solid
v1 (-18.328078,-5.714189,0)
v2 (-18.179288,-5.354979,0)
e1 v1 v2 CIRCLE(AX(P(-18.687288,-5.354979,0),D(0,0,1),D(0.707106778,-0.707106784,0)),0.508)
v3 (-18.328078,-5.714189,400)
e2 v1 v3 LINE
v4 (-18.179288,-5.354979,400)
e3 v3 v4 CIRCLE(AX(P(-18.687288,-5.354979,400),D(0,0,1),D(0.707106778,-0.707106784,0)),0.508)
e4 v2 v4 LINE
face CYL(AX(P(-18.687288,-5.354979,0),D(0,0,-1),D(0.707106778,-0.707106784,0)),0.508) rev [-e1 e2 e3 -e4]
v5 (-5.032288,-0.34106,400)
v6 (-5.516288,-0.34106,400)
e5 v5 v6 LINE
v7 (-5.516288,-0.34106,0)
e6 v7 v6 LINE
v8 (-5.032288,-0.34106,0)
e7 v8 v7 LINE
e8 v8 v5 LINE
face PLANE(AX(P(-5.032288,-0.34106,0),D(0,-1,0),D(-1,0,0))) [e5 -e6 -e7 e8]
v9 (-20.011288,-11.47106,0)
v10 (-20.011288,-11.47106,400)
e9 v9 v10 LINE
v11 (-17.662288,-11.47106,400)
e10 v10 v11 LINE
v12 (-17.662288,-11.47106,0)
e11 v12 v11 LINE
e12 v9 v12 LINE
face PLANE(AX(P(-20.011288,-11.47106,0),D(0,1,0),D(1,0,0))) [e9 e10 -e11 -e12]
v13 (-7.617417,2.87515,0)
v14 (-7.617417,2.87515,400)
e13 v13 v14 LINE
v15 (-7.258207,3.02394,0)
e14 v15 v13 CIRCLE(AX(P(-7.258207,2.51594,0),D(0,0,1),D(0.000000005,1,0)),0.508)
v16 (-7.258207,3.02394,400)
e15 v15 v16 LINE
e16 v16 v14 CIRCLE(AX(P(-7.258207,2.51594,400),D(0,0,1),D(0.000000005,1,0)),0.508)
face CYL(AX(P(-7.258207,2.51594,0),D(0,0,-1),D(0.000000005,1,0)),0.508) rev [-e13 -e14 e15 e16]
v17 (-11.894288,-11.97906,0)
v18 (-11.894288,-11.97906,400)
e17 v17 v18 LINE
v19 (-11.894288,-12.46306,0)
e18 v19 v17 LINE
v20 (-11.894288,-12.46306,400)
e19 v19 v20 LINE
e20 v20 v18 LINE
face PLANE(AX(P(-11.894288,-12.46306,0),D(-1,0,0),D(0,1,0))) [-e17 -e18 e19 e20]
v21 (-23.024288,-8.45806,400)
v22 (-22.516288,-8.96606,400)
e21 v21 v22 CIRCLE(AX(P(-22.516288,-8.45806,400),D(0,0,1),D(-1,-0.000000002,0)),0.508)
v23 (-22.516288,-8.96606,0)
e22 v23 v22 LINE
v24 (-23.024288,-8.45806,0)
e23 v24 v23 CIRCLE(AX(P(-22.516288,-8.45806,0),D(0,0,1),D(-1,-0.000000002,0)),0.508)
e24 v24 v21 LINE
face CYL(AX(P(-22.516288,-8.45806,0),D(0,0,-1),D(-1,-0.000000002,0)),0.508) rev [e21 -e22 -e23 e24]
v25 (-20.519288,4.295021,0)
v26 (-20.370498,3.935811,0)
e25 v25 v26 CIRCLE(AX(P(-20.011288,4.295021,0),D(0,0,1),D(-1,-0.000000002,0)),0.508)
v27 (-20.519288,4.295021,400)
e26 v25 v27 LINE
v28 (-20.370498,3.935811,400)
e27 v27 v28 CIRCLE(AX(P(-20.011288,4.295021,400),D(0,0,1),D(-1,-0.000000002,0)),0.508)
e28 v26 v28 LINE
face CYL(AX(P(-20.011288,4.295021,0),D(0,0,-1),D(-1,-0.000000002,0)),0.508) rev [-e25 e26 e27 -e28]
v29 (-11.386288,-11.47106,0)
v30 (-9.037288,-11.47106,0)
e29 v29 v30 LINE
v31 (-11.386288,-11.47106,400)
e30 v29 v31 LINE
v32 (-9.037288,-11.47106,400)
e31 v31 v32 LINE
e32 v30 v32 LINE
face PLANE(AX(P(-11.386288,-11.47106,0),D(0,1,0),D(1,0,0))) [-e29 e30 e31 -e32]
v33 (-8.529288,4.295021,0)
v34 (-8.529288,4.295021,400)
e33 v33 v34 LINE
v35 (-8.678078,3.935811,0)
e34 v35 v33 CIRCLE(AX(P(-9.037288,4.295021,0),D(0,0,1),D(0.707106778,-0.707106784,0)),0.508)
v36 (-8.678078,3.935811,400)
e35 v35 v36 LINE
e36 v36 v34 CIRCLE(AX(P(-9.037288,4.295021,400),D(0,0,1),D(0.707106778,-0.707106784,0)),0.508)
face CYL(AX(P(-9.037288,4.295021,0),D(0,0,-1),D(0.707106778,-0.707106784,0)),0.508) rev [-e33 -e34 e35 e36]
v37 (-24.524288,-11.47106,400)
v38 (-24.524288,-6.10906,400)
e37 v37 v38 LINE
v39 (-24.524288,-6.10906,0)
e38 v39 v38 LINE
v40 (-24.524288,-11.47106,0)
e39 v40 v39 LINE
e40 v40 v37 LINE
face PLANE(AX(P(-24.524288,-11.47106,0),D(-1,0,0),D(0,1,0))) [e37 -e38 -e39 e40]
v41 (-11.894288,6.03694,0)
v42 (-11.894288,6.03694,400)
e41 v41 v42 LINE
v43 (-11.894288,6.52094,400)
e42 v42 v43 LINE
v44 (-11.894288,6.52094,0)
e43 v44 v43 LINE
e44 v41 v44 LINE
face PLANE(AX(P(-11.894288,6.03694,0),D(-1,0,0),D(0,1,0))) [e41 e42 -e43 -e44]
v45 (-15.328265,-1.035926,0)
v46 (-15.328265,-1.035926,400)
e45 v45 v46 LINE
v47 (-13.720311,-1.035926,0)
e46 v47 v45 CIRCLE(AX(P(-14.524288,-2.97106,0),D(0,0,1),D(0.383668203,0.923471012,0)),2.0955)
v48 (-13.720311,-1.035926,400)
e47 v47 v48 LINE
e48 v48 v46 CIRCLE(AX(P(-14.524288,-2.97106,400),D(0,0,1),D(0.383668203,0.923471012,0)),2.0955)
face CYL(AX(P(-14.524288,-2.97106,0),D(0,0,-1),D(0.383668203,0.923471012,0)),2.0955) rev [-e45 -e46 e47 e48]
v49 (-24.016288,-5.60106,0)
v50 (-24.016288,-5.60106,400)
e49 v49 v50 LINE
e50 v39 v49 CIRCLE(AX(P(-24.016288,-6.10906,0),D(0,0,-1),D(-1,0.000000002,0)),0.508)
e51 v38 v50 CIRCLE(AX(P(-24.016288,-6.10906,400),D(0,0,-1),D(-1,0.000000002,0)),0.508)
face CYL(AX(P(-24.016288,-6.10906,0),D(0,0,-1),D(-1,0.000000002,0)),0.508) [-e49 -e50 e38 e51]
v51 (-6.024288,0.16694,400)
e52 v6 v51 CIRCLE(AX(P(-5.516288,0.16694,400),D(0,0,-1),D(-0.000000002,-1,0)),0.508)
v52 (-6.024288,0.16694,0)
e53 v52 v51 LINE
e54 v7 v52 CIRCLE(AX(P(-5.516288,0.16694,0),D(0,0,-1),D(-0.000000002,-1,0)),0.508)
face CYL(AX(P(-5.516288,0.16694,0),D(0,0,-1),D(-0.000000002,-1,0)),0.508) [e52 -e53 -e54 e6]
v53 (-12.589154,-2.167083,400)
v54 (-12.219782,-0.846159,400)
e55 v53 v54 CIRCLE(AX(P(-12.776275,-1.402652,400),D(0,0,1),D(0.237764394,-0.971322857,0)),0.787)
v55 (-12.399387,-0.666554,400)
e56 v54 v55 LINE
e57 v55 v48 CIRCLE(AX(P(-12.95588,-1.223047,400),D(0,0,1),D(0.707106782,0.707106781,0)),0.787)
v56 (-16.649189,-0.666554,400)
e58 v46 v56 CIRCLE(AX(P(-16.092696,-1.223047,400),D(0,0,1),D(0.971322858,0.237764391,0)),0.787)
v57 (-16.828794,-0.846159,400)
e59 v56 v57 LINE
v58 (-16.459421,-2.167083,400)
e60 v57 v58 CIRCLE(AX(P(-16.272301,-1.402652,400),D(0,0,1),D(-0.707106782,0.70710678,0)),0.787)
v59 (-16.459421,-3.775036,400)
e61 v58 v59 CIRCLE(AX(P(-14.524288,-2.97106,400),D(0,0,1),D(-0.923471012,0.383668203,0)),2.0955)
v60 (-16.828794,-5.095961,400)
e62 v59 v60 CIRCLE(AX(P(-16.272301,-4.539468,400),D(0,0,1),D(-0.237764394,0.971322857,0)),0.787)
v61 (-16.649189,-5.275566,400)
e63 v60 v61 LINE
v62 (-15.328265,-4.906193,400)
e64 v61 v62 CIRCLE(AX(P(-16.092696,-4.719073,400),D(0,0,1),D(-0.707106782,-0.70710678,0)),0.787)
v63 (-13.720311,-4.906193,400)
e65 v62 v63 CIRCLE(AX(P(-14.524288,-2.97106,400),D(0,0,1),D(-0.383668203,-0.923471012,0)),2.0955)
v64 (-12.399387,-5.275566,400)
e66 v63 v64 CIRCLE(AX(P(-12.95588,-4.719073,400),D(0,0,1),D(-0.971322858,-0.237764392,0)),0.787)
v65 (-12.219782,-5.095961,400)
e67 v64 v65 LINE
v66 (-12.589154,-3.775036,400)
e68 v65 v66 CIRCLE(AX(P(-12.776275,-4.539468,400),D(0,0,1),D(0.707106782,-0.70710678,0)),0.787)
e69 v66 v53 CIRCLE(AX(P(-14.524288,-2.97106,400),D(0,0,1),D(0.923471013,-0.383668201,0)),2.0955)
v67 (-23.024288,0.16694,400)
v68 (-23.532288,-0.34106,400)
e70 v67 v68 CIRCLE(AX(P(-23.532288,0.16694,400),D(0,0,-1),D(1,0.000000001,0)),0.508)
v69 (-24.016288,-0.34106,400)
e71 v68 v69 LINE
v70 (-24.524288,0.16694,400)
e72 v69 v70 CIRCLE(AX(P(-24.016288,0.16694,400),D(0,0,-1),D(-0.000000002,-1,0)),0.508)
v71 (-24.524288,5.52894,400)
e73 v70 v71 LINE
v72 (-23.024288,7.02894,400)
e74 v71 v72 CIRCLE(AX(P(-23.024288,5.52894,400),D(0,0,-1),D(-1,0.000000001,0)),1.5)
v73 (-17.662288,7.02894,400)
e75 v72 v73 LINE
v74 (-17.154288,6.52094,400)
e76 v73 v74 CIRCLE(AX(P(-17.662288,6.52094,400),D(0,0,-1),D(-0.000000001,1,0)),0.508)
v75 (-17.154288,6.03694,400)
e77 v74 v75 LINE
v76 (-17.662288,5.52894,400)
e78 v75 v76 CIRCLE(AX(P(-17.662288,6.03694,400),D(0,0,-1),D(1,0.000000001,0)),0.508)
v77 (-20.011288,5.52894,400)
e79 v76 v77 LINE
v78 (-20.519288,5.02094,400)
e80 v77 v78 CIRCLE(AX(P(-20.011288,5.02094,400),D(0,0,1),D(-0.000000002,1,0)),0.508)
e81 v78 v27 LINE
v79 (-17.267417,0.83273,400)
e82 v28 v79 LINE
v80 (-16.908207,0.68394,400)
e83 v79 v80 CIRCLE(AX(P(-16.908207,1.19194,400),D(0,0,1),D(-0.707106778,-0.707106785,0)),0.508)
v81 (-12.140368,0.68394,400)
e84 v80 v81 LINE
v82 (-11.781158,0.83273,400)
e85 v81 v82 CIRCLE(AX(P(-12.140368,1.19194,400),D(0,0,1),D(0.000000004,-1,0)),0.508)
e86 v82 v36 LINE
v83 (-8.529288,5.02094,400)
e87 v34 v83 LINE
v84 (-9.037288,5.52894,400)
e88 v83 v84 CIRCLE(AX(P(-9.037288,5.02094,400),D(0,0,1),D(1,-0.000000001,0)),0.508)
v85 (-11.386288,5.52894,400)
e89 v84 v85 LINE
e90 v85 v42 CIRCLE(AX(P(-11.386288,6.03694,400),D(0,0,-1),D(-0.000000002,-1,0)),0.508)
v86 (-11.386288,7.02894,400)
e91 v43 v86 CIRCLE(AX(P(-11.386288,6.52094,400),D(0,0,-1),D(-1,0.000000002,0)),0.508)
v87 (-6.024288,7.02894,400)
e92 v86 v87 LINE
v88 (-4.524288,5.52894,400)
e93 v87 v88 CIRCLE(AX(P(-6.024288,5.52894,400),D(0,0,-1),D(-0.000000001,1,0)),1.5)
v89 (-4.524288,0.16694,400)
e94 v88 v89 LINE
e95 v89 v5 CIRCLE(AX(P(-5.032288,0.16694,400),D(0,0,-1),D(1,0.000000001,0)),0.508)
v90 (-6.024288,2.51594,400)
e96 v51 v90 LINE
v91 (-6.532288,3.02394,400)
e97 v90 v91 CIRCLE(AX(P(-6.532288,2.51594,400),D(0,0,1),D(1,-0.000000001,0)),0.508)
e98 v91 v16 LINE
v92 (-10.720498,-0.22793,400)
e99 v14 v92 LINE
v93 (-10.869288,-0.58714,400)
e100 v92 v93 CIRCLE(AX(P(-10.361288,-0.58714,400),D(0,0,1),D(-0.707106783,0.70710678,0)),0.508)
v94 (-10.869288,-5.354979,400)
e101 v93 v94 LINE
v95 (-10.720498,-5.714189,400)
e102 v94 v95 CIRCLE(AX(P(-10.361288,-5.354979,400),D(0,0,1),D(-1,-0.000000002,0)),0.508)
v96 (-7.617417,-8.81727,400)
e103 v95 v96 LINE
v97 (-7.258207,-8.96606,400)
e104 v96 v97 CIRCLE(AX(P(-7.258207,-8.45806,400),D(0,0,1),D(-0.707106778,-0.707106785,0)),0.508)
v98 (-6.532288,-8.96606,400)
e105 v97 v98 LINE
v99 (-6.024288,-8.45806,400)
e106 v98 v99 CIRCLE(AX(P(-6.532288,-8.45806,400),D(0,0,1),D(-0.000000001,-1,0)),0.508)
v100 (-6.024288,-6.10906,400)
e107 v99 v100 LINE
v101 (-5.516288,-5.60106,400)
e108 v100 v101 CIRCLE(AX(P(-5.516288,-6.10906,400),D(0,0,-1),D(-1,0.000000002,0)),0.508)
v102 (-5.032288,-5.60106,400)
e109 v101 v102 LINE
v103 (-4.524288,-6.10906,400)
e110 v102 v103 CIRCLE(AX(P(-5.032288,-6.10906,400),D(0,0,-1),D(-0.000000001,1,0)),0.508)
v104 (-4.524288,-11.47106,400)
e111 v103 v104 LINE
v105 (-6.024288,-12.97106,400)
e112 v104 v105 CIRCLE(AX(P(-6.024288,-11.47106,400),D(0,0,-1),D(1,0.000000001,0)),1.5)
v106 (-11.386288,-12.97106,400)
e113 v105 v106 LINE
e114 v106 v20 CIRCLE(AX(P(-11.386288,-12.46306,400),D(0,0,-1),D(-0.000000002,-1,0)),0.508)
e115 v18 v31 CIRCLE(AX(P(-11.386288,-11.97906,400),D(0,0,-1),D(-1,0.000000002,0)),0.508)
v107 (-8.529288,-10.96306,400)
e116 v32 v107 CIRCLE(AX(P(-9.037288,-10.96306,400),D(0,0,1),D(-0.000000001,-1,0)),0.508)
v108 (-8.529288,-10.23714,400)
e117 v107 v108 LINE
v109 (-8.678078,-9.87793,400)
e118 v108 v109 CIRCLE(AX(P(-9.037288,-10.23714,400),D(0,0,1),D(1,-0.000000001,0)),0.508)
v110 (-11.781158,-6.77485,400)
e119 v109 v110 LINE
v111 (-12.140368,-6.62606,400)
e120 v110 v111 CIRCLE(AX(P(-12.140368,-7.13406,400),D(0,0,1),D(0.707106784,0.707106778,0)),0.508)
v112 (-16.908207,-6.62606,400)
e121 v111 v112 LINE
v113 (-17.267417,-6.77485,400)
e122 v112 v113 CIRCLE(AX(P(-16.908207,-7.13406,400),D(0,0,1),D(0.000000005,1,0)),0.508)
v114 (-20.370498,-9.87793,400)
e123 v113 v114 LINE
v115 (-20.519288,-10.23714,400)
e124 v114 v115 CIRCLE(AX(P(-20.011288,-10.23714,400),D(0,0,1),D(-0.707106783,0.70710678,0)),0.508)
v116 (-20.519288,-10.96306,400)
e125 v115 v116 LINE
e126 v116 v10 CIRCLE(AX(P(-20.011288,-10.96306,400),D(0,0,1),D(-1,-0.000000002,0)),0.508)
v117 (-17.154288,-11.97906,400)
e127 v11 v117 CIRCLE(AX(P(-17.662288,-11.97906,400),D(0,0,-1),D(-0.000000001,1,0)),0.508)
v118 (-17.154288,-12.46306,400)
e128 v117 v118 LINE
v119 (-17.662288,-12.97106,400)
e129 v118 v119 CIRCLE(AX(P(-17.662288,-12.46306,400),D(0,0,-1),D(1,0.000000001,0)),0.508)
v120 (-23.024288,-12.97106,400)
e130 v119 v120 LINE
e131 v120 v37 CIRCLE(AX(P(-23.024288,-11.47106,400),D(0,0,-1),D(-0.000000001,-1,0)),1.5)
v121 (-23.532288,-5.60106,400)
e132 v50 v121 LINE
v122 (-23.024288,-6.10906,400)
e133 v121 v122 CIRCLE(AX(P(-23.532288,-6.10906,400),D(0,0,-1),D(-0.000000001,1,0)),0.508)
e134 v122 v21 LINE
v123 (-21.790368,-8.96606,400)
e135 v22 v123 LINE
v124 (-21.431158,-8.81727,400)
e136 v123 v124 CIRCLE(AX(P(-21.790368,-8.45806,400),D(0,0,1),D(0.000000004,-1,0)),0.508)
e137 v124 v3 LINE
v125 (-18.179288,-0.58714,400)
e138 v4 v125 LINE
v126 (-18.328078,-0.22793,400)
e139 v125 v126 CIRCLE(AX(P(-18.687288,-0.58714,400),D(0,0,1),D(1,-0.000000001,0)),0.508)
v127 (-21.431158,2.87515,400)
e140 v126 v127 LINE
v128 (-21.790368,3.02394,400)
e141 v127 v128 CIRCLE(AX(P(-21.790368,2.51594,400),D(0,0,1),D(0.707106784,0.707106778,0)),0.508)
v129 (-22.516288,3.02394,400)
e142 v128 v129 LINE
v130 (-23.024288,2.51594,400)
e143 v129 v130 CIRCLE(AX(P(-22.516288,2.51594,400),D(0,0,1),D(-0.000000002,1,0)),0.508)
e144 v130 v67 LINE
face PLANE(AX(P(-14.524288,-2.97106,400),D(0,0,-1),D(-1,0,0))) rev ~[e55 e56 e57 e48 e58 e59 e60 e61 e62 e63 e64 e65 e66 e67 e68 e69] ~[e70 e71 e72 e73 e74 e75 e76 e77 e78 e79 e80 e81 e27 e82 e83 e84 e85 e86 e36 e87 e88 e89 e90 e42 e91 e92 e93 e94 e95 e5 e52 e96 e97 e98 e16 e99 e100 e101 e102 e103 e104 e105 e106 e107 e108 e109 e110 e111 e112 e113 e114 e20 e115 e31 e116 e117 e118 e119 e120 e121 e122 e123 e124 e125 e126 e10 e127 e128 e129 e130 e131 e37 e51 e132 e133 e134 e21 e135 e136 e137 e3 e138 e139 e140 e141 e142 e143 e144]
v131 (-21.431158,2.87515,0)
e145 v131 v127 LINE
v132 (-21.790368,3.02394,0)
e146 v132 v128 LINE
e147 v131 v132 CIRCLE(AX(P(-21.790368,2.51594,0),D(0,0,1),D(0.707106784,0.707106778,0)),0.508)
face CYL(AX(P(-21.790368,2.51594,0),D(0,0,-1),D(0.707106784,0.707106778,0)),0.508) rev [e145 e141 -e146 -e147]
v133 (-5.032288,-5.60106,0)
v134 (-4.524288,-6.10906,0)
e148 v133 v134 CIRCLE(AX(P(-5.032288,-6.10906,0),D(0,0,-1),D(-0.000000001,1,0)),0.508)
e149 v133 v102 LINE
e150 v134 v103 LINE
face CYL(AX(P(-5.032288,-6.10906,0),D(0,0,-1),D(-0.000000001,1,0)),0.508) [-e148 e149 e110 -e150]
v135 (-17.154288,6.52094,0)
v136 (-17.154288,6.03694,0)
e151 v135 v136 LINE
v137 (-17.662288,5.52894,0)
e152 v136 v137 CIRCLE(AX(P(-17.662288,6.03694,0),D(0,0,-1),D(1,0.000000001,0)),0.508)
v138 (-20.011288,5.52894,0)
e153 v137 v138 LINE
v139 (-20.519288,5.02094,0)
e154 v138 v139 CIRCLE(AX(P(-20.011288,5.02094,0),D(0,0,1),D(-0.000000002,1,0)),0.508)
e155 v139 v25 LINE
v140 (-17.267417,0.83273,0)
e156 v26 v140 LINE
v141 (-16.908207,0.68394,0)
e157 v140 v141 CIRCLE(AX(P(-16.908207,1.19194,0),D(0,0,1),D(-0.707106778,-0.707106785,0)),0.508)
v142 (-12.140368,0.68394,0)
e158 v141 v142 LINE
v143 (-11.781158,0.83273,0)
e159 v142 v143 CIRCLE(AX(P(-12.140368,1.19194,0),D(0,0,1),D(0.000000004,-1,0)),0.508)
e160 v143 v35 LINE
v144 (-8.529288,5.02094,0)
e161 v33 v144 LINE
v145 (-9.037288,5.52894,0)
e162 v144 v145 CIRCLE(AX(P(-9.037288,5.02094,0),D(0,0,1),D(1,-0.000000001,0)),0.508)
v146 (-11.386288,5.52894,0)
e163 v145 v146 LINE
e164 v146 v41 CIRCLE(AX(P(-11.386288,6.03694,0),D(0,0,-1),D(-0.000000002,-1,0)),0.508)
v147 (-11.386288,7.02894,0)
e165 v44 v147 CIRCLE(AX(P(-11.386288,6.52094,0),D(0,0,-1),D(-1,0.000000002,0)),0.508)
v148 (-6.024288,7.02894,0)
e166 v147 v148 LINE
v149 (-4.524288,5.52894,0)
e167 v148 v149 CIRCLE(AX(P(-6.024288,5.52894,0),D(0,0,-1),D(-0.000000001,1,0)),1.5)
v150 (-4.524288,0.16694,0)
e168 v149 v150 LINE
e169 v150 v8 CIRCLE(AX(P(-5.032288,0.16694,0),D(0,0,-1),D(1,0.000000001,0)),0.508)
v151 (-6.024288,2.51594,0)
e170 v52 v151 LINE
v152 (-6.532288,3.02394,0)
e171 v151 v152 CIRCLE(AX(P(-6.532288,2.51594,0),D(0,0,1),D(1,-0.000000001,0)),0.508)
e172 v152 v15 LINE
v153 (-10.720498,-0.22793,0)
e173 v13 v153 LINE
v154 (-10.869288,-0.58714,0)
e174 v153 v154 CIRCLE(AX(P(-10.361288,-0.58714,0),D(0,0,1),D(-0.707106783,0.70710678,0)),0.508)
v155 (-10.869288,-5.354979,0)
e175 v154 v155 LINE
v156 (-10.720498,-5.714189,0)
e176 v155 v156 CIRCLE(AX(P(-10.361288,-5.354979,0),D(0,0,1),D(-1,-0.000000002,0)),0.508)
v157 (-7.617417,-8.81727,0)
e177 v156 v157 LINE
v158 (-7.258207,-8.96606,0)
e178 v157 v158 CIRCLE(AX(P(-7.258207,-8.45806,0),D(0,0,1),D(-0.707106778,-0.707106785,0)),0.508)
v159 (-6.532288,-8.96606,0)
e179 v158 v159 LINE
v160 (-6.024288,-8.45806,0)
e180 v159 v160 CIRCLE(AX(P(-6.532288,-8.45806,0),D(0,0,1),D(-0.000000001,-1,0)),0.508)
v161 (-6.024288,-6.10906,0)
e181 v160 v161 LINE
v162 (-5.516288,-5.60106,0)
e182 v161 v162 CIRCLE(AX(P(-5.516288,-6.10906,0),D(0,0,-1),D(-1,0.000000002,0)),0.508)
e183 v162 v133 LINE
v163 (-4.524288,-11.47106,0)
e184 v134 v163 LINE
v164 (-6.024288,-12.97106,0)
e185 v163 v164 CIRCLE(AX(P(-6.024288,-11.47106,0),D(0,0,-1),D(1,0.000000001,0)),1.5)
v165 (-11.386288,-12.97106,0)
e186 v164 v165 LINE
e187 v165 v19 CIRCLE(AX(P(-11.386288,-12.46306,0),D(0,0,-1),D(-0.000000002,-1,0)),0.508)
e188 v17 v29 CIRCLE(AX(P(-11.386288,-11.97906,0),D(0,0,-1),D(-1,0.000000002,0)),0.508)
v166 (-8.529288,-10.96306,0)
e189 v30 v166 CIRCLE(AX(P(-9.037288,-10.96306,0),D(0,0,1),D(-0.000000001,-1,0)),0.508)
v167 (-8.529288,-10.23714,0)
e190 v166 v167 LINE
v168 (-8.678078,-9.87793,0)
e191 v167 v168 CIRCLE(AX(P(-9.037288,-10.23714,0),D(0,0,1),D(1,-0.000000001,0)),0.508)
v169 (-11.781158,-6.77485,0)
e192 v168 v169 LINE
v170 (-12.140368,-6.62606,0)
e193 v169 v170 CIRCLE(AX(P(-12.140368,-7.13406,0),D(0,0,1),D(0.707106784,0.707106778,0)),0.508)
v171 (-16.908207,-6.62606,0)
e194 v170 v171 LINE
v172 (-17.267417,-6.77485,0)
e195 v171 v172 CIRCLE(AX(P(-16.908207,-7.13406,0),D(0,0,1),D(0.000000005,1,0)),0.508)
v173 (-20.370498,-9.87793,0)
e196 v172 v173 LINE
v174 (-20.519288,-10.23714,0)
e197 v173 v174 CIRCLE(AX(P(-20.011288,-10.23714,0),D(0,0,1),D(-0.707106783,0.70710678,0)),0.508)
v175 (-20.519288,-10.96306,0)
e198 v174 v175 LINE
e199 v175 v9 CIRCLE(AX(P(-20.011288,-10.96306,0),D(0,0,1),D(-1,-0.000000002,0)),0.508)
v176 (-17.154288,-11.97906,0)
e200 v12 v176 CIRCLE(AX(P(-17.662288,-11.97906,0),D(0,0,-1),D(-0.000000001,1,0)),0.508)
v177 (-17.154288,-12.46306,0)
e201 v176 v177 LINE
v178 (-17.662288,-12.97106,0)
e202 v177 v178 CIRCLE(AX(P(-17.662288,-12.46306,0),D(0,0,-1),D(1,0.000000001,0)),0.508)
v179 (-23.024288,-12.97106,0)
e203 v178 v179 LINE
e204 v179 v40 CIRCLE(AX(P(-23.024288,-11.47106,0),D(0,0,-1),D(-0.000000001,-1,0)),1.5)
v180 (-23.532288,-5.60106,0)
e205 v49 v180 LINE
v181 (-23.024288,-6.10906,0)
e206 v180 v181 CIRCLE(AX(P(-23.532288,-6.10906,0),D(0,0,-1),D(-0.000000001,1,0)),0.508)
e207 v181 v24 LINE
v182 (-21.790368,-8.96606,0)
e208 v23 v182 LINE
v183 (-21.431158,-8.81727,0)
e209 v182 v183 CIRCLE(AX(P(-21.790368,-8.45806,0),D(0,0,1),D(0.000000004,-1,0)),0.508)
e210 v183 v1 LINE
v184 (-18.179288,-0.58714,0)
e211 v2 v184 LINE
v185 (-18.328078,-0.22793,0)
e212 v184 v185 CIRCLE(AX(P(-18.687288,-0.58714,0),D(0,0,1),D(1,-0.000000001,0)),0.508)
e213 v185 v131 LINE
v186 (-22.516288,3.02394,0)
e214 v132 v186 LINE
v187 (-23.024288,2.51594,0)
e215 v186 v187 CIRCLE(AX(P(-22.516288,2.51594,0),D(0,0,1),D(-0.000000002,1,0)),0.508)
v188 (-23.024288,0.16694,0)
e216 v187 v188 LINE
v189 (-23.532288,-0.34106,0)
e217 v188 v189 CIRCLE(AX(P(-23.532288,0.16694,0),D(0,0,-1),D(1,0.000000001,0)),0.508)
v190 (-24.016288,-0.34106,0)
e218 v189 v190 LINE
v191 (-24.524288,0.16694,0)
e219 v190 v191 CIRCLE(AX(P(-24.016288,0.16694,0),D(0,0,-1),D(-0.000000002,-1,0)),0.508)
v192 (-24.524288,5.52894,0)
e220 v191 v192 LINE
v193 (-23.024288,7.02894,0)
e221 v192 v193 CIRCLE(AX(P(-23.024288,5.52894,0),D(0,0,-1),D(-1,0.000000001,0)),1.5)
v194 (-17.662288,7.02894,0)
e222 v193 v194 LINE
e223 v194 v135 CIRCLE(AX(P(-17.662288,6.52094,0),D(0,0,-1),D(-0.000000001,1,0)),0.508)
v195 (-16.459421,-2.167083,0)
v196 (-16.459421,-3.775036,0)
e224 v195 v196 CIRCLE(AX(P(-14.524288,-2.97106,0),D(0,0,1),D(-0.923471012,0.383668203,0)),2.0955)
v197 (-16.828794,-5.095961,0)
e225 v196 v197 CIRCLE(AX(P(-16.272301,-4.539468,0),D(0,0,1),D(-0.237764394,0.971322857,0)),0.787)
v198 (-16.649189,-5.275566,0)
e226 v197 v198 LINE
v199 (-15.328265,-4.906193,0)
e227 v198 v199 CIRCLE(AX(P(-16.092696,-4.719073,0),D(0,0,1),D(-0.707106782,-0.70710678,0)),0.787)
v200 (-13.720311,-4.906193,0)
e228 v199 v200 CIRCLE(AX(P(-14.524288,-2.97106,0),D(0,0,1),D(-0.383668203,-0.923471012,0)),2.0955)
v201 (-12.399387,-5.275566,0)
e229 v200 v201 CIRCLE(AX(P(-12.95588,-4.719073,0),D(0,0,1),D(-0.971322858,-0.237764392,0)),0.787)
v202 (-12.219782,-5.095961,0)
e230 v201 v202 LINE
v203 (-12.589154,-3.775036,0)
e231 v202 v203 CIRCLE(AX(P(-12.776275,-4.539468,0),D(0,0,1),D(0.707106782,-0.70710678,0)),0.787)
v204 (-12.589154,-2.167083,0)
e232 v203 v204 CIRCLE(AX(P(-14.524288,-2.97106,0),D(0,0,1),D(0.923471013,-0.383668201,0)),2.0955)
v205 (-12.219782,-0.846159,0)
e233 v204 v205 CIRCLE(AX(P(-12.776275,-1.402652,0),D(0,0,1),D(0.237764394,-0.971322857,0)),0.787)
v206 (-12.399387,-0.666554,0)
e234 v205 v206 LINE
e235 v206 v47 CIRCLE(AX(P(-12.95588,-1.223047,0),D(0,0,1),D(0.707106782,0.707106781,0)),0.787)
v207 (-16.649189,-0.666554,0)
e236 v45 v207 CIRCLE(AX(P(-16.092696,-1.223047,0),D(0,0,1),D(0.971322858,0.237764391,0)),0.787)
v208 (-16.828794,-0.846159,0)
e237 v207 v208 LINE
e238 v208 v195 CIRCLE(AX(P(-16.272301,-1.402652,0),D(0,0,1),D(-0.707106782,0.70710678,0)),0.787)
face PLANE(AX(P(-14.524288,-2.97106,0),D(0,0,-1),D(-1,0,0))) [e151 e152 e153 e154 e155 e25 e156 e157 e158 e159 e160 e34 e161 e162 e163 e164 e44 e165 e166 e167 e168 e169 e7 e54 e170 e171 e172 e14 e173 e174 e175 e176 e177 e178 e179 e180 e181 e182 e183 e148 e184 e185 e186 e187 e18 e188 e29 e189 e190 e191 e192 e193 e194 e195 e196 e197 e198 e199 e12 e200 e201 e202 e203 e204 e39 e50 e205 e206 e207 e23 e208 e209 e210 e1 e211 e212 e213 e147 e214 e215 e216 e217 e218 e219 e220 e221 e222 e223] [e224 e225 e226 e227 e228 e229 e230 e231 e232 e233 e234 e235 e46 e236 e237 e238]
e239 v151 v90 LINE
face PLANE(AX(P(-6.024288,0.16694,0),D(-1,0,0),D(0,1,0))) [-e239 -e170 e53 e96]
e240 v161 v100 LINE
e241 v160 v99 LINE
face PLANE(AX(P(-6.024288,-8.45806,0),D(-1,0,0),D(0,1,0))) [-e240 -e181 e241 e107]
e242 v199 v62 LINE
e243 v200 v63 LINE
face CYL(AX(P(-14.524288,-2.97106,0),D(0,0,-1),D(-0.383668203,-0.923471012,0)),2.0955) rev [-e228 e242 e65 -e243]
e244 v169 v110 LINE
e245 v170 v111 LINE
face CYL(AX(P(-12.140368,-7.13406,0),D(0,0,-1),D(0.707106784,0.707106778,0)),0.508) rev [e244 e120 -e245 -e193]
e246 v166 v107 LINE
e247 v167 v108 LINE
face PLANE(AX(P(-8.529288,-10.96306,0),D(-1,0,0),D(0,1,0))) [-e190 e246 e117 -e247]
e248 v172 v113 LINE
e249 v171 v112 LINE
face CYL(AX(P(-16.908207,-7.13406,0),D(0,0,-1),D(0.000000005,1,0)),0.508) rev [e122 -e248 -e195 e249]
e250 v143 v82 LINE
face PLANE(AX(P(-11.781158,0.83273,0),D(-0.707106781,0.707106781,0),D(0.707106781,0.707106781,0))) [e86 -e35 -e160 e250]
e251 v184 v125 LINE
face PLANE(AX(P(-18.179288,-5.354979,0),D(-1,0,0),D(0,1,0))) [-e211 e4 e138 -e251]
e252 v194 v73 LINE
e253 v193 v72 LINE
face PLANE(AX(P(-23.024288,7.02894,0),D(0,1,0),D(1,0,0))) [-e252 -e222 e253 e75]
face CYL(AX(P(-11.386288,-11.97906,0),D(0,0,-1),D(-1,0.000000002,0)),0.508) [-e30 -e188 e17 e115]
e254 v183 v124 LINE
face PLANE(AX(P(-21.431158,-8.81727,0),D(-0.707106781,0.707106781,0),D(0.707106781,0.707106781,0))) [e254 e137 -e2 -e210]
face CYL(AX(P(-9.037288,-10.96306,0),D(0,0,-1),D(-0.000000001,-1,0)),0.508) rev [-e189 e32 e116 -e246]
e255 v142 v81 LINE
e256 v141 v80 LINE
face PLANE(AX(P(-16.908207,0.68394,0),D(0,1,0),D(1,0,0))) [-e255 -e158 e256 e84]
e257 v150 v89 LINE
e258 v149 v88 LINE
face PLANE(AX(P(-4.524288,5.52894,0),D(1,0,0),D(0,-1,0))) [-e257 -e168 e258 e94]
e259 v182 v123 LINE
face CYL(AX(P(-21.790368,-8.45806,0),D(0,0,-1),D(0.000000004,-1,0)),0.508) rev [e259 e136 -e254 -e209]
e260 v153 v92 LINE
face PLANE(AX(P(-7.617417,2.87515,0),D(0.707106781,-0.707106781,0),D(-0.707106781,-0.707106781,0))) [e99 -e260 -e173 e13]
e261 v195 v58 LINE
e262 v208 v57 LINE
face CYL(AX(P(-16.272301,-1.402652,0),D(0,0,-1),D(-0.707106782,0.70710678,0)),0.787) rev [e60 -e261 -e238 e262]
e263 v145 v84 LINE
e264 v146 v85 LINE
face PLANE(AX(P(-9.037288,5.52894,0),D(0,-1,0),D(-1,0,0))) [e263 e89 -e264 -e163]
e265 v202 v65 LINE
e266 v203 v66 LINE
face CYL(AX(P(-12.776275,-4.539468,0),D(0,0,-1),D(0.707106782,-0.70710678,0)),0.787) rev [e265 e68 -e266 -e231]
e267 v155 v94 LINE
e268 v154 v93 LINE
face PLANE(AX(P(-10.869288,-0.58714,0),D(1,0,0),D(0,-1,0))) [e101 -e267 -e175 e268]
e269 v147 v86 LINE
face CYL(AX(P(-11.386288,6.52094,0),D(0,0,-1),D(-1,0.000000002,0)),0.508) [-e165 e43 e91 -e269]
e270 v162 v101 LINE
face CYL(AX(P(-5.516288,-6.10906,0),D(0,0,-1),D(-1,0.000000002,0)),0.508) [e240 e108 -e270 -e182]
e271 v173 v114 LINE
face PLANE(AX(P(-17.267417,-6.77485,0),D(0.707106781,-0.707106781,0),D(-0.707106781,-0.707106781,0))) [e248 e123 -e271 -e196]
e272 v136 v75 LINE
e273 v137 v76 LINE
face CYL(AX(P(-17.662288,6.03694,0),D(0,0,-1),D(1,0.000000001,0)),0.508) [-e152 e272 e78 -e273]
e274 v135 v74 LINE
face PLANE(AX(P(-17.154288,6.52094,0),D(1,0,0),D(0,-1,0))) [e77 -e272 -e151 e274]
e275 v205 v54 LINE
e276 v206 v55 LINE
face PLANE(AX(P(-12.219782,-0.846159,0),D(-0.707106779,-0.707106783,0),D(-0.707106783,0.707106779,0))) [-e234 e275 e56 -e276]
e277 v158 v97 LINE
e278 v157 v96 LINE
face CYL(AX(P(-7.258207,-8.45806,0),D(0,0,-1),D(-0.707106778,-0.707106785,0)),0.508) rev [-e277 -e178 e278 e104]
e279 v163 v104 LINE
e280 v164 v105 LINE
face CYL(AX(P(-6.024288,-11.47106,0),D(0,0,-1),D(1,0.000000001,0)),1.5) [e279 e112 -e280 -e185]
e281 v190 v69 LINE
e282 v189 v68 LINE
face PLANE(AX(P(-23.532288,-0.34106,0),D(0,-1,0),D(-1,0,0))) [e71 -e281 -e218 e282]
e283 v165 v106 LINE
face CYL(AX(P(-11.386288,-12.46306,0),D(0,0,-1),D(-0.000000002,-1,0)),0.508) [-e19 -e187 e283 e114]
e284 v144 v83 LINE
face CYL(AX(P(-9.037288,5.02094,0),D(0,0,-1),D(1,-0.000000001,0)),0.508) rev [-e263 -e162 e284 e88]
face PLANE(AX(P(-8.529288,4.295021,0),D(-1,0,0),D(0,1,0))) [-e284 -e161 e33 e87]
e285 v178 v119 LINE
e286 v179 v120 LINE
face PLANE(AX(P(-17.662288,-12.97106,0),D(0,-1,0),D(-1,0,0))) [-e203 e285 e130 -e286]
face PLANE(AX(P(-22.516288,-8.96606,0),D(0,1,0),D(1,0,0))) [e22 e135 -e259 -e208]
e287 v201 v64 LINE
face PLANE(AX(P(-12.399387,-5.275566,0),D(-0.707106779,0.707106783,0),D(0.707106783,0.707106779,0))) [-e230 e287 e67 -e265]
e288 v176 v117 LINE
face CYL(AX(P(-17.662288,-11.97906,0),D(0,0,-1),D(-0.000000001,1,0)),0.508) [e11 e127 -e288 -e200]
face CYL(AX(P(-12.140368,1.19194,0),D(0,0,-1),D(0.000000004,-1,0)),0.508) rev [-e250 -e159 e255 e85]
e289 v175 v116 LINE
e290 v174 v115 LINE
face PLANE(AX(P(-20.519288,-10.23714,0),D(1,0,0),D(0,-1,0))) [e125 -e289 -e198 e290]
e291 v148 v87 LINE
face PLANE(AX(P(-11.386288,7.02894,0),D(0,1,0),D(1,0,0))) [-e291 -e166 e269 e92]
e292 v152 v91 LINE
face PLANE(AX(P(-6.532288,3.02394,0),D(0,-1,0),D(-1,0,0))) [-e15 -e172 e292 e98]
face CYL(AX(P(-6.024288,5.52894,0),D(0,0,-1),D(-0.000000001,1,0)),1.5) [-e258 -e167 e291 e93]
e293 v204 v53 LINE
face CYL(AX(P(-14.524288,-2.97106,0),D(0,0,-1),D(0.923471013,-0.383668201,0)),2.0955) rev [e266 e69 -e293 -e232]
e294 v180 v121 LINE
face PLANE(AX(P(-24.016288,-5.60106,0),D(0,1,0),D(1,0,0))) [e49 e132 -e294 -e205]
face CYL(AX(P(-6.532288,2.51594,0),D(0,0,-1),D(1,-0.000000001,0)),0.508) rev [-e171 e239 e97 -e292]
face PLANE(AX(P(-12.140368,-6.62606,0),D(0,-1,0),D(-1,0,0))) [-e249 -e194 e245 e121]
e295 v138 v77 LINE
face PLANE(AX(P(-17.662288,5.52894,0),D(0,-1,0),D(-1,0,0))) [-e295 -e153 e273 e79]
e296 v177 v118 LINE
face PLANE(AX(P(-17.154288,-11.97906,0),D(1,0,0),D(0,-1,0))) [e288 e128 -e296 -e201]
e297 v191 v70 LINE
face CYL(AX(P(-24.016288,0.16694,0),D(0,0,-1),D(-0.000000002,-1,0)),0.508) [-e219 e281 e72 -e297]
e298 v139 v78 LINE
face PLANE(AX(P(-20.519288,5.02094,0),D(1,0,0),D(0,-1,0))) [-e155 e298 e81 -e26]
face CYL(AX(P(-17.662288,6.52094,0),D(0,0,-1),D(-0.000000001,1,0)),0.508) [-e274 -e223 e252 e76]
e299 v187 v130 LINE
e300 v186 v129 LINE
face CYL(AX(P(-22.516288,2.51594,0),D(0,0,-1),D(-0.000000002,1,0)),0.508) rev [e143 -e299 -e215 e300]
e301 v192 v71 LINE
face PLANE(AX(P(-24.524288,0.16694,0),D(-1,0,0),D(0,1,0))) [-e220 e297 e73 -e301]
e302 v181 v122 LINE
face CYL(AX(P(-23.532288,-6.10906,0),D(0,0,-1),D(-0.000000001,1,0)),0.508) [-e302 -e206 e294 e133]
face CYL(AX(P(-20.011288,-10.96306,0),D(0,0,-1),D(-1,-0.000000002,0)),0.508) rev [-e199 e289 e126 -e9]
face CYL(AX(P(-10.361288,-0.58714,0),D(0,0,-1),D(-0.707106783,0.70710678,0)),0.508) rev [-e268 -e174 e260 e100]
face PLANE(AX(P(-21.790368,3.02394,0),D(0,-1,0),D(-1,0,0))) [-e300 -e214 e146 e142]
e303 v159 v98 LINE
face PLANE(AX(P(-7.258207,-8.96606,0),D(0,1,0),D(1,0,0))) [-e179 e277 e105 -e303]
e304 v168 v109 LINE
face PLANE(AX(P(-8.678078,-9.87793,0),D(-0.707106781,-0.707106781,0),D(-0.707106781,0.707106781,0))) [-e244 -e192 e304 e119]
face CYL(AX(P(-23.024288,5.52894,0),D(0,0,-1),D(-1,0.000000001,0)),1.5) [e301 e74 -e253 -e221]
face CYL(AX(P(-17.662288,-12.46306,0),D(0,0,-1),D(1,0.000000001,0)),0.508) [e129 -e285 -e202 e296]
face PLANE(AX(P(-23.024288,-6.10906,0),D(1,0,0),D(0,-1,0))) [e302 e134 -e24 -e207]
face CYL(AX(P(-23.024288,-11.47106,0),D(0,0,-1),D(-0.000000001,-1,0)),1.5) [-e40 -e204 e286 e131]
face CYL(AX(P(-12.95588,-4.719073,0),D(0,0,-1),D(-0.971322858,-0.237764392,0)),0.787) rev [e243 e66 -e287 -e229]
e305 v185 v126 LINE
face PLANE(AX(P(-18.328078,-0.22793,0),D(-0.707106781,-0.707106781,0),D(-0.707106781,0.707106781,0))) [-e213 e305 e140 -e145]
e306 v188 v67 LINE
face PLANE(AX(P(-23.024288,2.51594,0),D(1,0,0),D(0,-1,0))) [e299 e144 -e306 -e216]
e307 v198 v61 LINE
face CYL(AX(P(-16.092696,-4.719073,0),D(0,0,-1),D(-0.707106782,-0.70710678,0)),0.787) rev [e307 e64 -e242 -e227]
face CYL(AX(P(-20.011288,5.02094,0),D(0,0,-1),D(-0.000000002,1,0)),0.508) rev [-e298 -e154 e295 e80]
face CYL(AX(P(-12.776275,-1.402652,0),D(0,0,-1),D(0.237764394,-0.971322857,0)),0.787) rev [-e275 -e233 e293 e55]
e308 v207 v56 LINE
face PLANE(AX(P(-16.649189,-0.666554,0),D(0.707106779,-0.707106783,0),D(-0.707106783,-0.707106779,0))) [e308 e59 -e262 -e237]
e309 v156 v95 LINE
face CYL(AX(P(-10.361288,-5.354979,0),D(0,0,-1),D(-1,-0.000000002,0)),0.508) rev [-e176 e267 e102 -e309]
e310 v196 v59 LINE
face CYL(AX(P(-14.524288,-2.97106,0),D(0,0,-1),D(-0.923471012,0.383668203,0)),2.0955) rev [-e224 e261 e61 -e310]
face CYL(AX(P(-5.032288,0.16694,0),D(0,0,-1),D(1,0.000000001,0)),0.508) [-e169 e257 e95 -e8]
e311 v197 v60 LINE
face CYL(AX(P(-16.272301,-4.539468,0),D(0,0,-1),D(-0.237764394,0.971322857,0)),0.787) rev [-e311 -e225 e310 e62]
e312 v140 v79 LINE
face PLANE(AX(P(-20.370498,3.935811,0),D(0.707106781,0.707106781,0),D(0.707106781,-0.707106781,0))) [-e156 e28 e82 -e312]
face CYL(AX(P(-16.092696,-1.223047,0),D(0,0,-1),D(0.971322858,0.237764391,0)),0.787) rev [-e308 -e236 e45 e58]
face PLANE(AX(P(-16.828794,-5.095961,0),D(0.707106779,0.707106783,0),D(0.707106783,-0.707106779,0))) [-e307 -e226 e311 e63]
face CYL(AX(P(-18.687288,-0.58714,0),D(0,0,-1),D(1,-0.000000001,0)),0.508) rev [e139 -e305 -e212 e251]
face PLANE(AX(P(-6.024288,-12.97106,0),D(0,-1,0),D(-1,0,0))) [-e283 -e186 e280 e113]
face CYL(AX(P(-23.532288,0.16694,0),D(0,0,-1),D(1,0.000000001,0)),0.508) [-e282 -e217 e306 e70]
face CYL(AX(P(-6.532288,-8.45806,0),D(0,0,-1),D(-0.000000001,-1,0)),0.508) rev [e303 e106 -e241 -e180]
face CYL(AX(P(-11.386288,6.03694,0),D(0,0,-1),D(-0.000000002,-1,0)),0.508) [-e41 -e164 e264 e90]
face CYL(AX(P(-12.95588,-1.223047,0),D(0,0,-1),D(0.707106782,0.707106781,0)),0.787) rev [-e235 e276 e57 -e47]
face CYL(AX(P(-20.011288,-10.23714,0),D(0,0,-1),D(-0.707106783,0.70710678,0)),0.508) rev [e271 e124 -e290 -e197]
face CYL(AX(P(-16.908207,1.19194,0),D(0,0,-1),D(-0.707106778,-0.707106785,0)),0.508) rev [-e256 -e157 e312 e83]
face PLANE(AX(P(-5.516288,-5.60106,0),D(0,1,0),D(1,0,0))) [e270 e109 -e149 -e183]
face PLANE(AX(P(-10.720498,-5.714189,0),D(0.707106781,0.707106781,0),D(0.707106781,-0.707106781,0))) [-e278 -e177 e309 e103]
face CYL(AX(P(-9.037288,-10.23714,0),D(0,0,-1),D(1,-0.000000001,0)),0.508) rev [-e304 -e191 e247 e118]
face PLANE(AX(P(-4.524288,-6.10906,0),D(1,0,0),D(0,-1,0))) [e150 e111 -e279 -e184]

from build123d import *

# Parameters (mm, degrees)
EXTRUDE1_DEPTH = 400


with BuildPart() as part:
    # Sketch1 → Extrude1 (new body)
    with BuildSketch(Plane.XY):
        with BuildLine():
            Line((-5.032287798, -0.341059771), (-5.516287798, -0.341059771))
            ThreePointArc((-5.516287798, -0.341059771), (-5.875498042, -0.192270016), (-6.024287798, 0.166940229))
            Line((-6.024287798, 0.166940229), (-6.024287798, 2.515940229))
            ThreePointArc((-6.024287798, 2.515940229), (-6.173077553, 2.875150474), (-6.532287798, 3.023940229))
            Line((-6.532287798, 3.023940229), (-7.258207136, 3.023940229))
            ThreePointArc((-7.258207136, 3.023940229), (-7.45261032, 2.985271032), (-7.617417381, 2.875150474))
            Line((-7.617417381, 2.875150474), (-10.720498042, -0.227930187))
            ThreePointArc((-10.720498042, -0.227930187), (-10.8306186, -0.392737249), (-10.869287798, -0.587140432))
            Line((-10.869287798, -0.587140432), (-10.869287798, -5.354979109))
            ThreePointArc((-10.869287798, -5.354979109), (-10.8306186, -5.549382293), (-10.720498042, -5.714189354))
            Line((-10.720498042, -5.714189354), (-7.617417381, -8.817270016))
            ThreePointArc((-7.617417381, -8.817270016), (-7.45261032, -8.927390573), (-7.258207136, -8.966059771))
            Line((-7.258207136, -8.966059771), (-6.532287798, -8.966059771))
            ThreePointArc((-6.532287798, -8.966059771), (-6.173077553, -8.817270016), (-6.024287798, -8.458059771))
            Line((-6.024287798, -8.458059771), (-6.024287798, -6.109059771))
            ThreePointArc((-6.024287798, -6.109059771), (-5.875498042, -5.749849526), (-5.516287798, -5.601059771))
            Line((-5.516287798, -5.601059771), (-5.032287798, -5.601059771))
            ThreePointArc((-5.032287798, -5.601059771), (-4.673077553, -5.749849526), (-4.524287798, -6.109059771))
            Line((-4.524287798, -6.109059771), (-4.524287798, -11.471059771))
            ThreePointArc((-4.524287798, -11.471059771), (-4.963627626, -12.531719943), (-6.024287798, -12.971059771))
            Line((-6.024287798, -12.971059771), (-11.386287798, -12.971059771))
            ThreePointArc((-11.386287798, -12.971059771), (-11.745498042, -12.822270016), (-11.894287798, -12.463059771))
            Line((-11.894287798, -12.463059771), (-11.894287798, -11.979059771))
            ThreePointArc((-11.894287798, -11.979059771), (-11.745498042, -11.619849526), (-11.386287798, -11.471059771))
            Line((-11.386287798, -11.471059771), (-9.037287798, -11.471059771))
            ThreePointArc((-9.037287798, -11.471059771), (-8.678077553, -11.322270016), (-8.529287798, -10.963059771))
            Line((-8.529287798, -10.963059771), (-8.529287798, -10.237140432))
            ThreePointArc((-8.529287798, -10.237140432), (-8.567956995, -10.042737249), (-8.678077553, -9.877930187))
            Line((-8.678077553, -9.877930187), (-11.781158214, -6.774849526))
            ThreePointArc((-11.781158214, -6.774849526), (-11.945965275, -6.664728968), (-12.140368459, -6.626059771))
            Line((-12.140368459, -6.626059771), (-16.908207136, -6.626059771))
            ThreePointArc((-16.908207136, -6.626059771), (-17.10261032, -6.664728968), (-17.267417381, -6.774849526))
            Line((-17.267417381, -6.774849526), (-20.370498042, -9.877930187))
            ThreePointArc((-20.370498042, -9.877930187), (-20.4806186, -10.042737249), (-20.519287798, -10.237140432))
            Line((-20.519287798, -10.237140432), (-20.519287798, -10.963059771))
            ThreePointArc((-20.519287798, -10.963059771), (-20.370498042, -11.322270016), (-20.011287798, -11.471059771))
            Line((-20.011287798, -11.471059771), (-17.662287798, -11.471059771))
            ThreePointArc((-17.662287798, -11.471059771), (-17.303077553, -11.619849526), (-17.154287798, -11.979059771))
            Line((-17.154287798, -11.979059771), (-17.154287798, -12.463059771))
            ThreePointArc((-17.154287798, -12.463059771), (-17.303077553, -12.822270016), (-17.662287798, -12.971059771))
            Line((-17.662287798, -12.971059771), (-23.024287798, -12.971059771))
            ThreePointArc((-23.024287798, -12.971059771), (-24.084947969, -12.531719943), (-24.524287798, -11.471059771))
            Line((-24.524287798, -11.471059771), (-24.524287798, -6.109059771))
            ThreePointArc((-24.524287798, -6.109059771), (-24.375498042, -5.749849526), (-24.016287798, -5.601059771))
            Line((-24.016287798, -5.601059771), (-23.532287798, -5.601059771))
            ThreePointArc((-23.532287798, -5.601059771), (-23.173077553, -5.749849526), (-23.024287798, -6.109059771))
            Line((-23.024287798, -6.109059771), (-23.024287798, -8.458059771))
            ThreePointArc((-23.024287798, -8.458059771), (-22.875498042, -8.817270016), (-22.516287798, -8.966059771))
            Line((-22.516287798, -8.966059771), (-21.790368459, -8.966059771))
            ThreePointArc((-21.790368459, -8.966059771), (-21.595965275, -8.927390573), (-21.431158214, -8.817270016))
            Line((-21.431158214, -8.817270016), (-18.328077553, -5.714189354))
            ThreePointArc((-18.328077553, -5.714189354), (-18.217956995, -5.549382293), (-18.179287798, -5.354979109))
            Line((-18.179287798, -5.354979109), (-18.179287798, -0.587140432))
            ThreePointArc((-18.179287798, -0.587140432), (-18.217956995, -0.392737249), (-18.328077553, -0.227930187))
            Line((-18.328077553, -0.227930187), (-21.431158214, 2.875150474))
            ThreePointArc((-21.431158214, 2.875150474), (-21.595965275, 2.985271032), (-21.790368459, 3.023940229))
            Line((-21.790368459, 3.023940229), (-22.516287798, 3.023940229))
            ThreePointArc((-22.516287798, 3.023940229), (-22.875498042, 2.875150474), (-23.024287798, 2.515940229))
            Line((-23.024287798, 2.515940229), (-23.024287798, 0.166940229))
            ThreePointArc((-23.024287798, 0.166940229), (-23.173077553, -0.192270016), (-23.532287798, -0.341059771))
            Line((-23.532287798, -0.341059771), (-24.016287798, -0.341059771))
            ThreePointArc((-24.016287798, -0.341059771), (-24.375498042, -0.192270016), (-24.524287798, 0.166940229))
            Line((-24.524287798, 0.166940229), (-24.524287798, 5.528940229))
            ThreePointArc((-24.524287798, 5.528940229), (-24.084947969, 6.589600401), (-23.024287798, 7.028940229))
            Line((-23.024287798, 7.028940229), (-17.662287798, 7.028940229))
            ThreePointArc((-17.662287798, 7.028940229), (-17.303077553, 6.880150474), (-17.154287798, 6.520940229))
            Line((-17.154287798, 6.520940229), (-17.154287798, 6.036940229))
            ThreePointArc((-17.154287798, 6.036940229), (-17.303077553, 5.677729984), (-17.662287798, 5.528940229))
            Line((-17.662287798, 5.528940229), (-20.011287798, 5.528940229))
            ThreePointArc((-20.011287798, 5.528940229), (-20.370498042, 5.380150474), (-20.519287798, 5.020940229))
            Line((-20.519287798, 5.020940229), (-20.519287798, 4.295020891))
            ThreePointArc((-20.519287798, 4.295020891), (-20.4806186, 4.100617707), (-20.370498042, 3.935810646))
            Line((-20.370498042, 3.935810646), (-17.267417381, 0.832729984))
            ThreePointArc((-17.267417381, 0.832729984), (-17.10261032, 0.722609427), (-16.908207136, 0.683940229))
            Line((-16.908207136, 0.683940229), (-12.140368459, 0.683940229))
            ThreePointArc((-12.140368459, 0.683940229), (-11.945965275, 0.722609427), (-11.781158214, 0.832729984))
            Line((-11.781158214, 0.832729984), (-8.678077553, 3.935810646))
            ThreePointArc((-8.678077553, 3.935810646), (-8.567956995, 4.100617707), (-8.529287798, 4.295020891))
            Line((-8.529287798, 4.295020891), (-8.529287798, 5.020940229))
            ThreePointArc((-8.529287798, 5.020940229), (-8.678077553, 5.380150474), (-9.037287798, 5.528940229))
            Line((-9.037287798, 5.528940229), (-11.386287798, 5.528940229))
            ThreePointArc((-11.386287798, 5.528940229), (-11.745498042, 5.677729984), (-11.894287798, 6.036940229))
            Line((-11.894287798, 6.036940229), (-11.894287798, 6.520940229))
            ThreePointArc((-11.894287798, 6.520940229), (-11.745498042, 6.880150474), (-11.386287798, 7.028940229))
            Line((-11.386287798, 7.028940229), (-6.024287798, 7.028940229))
            ThreePointArc((-6.024287798, 7.028940229), (-4.963627626, 6.589600401), (-4.524287798, 5.528940229))
            Line((-4.524287798, 5.528940229), (-4.524287798, 0.166940229))
            ThreePointArc((-4.524287798, 0.166940229), (-4.673077553, -0.192270016), (-5.032287798, -0.341059771))
        make_face()
        with BuildLine():
            Line((-12.399386954, -5.275565737), (-12.219781831, -5.095960615))
            ThreePointArc((-12.219781831, -5.095960615), (-12.018349781, -4.327527582), (-12.589154291, -3.775036489))
            ThreePointArc((-12.589154291, -3.775036489), (-12.428787798, -2.971059771), (-12.589154291, -2.167083053))
            ThreePointArc((-12.589154291, -2.167083053), (-12.018349781, -1.61459196), (-12.219781831, -0.846158927))
            Line((-12.219781831, -0.846158927), (-12.399386954, -0.666553805))
            ThreePointArc((-12.399386954, -0.666553805), (-13.167819987, -0.465121754), (-13.72031108, -1.035926265))
            ThreePointArc((-13.72031108, -1.035926265), (-14.524287798, -0.875559771), (-15.328264516, -1.035926265))
            ThreePointArc((-15.328264516, -1.035926265), (-15.880755608, -0.465121754), (-16.649188641, -0.666553805))
            Line((-16.649188641, -0.666553805), (-16.828793764, -0.846158927))
            ThreePointArc((-16.828793764, -0.846158927), (-17.030225814, -1.61459196), (-16.459421304, -2.167083053))
            ThreePointArc((-16.459421304, -2.167083053), (-16.619787798, -2.971059771), (-16.459421304, -3.775036489))
            ThreePointArc((-16.459421304, -3.775036489), (-17.030225814, -4.327527582), (-16.828793764, -5.095960615))
            Line((-16.828793764, -5.095960615), (-16.649188641, -5.275565737))
            ThreePointArc((-16.649188641, -5.275565737), (-15.880755608, -5.476997788), (-15.328264516, -4.906193277))
            ThreePointArc((-15.328264516, -4.906193277), (-14.524287798, -5.066559771), (-13.72031108, -4.906193277))
            ThreePointArc((-13.72031108, -4.906193277), (-13.167819987, -5.476997788), (-12.399386954, -5.275565737))
        make_face(mode=Mode.SUBTRACT)
    extrude(amount=EXTRUDE1_DEPTH)


solid = part.part
